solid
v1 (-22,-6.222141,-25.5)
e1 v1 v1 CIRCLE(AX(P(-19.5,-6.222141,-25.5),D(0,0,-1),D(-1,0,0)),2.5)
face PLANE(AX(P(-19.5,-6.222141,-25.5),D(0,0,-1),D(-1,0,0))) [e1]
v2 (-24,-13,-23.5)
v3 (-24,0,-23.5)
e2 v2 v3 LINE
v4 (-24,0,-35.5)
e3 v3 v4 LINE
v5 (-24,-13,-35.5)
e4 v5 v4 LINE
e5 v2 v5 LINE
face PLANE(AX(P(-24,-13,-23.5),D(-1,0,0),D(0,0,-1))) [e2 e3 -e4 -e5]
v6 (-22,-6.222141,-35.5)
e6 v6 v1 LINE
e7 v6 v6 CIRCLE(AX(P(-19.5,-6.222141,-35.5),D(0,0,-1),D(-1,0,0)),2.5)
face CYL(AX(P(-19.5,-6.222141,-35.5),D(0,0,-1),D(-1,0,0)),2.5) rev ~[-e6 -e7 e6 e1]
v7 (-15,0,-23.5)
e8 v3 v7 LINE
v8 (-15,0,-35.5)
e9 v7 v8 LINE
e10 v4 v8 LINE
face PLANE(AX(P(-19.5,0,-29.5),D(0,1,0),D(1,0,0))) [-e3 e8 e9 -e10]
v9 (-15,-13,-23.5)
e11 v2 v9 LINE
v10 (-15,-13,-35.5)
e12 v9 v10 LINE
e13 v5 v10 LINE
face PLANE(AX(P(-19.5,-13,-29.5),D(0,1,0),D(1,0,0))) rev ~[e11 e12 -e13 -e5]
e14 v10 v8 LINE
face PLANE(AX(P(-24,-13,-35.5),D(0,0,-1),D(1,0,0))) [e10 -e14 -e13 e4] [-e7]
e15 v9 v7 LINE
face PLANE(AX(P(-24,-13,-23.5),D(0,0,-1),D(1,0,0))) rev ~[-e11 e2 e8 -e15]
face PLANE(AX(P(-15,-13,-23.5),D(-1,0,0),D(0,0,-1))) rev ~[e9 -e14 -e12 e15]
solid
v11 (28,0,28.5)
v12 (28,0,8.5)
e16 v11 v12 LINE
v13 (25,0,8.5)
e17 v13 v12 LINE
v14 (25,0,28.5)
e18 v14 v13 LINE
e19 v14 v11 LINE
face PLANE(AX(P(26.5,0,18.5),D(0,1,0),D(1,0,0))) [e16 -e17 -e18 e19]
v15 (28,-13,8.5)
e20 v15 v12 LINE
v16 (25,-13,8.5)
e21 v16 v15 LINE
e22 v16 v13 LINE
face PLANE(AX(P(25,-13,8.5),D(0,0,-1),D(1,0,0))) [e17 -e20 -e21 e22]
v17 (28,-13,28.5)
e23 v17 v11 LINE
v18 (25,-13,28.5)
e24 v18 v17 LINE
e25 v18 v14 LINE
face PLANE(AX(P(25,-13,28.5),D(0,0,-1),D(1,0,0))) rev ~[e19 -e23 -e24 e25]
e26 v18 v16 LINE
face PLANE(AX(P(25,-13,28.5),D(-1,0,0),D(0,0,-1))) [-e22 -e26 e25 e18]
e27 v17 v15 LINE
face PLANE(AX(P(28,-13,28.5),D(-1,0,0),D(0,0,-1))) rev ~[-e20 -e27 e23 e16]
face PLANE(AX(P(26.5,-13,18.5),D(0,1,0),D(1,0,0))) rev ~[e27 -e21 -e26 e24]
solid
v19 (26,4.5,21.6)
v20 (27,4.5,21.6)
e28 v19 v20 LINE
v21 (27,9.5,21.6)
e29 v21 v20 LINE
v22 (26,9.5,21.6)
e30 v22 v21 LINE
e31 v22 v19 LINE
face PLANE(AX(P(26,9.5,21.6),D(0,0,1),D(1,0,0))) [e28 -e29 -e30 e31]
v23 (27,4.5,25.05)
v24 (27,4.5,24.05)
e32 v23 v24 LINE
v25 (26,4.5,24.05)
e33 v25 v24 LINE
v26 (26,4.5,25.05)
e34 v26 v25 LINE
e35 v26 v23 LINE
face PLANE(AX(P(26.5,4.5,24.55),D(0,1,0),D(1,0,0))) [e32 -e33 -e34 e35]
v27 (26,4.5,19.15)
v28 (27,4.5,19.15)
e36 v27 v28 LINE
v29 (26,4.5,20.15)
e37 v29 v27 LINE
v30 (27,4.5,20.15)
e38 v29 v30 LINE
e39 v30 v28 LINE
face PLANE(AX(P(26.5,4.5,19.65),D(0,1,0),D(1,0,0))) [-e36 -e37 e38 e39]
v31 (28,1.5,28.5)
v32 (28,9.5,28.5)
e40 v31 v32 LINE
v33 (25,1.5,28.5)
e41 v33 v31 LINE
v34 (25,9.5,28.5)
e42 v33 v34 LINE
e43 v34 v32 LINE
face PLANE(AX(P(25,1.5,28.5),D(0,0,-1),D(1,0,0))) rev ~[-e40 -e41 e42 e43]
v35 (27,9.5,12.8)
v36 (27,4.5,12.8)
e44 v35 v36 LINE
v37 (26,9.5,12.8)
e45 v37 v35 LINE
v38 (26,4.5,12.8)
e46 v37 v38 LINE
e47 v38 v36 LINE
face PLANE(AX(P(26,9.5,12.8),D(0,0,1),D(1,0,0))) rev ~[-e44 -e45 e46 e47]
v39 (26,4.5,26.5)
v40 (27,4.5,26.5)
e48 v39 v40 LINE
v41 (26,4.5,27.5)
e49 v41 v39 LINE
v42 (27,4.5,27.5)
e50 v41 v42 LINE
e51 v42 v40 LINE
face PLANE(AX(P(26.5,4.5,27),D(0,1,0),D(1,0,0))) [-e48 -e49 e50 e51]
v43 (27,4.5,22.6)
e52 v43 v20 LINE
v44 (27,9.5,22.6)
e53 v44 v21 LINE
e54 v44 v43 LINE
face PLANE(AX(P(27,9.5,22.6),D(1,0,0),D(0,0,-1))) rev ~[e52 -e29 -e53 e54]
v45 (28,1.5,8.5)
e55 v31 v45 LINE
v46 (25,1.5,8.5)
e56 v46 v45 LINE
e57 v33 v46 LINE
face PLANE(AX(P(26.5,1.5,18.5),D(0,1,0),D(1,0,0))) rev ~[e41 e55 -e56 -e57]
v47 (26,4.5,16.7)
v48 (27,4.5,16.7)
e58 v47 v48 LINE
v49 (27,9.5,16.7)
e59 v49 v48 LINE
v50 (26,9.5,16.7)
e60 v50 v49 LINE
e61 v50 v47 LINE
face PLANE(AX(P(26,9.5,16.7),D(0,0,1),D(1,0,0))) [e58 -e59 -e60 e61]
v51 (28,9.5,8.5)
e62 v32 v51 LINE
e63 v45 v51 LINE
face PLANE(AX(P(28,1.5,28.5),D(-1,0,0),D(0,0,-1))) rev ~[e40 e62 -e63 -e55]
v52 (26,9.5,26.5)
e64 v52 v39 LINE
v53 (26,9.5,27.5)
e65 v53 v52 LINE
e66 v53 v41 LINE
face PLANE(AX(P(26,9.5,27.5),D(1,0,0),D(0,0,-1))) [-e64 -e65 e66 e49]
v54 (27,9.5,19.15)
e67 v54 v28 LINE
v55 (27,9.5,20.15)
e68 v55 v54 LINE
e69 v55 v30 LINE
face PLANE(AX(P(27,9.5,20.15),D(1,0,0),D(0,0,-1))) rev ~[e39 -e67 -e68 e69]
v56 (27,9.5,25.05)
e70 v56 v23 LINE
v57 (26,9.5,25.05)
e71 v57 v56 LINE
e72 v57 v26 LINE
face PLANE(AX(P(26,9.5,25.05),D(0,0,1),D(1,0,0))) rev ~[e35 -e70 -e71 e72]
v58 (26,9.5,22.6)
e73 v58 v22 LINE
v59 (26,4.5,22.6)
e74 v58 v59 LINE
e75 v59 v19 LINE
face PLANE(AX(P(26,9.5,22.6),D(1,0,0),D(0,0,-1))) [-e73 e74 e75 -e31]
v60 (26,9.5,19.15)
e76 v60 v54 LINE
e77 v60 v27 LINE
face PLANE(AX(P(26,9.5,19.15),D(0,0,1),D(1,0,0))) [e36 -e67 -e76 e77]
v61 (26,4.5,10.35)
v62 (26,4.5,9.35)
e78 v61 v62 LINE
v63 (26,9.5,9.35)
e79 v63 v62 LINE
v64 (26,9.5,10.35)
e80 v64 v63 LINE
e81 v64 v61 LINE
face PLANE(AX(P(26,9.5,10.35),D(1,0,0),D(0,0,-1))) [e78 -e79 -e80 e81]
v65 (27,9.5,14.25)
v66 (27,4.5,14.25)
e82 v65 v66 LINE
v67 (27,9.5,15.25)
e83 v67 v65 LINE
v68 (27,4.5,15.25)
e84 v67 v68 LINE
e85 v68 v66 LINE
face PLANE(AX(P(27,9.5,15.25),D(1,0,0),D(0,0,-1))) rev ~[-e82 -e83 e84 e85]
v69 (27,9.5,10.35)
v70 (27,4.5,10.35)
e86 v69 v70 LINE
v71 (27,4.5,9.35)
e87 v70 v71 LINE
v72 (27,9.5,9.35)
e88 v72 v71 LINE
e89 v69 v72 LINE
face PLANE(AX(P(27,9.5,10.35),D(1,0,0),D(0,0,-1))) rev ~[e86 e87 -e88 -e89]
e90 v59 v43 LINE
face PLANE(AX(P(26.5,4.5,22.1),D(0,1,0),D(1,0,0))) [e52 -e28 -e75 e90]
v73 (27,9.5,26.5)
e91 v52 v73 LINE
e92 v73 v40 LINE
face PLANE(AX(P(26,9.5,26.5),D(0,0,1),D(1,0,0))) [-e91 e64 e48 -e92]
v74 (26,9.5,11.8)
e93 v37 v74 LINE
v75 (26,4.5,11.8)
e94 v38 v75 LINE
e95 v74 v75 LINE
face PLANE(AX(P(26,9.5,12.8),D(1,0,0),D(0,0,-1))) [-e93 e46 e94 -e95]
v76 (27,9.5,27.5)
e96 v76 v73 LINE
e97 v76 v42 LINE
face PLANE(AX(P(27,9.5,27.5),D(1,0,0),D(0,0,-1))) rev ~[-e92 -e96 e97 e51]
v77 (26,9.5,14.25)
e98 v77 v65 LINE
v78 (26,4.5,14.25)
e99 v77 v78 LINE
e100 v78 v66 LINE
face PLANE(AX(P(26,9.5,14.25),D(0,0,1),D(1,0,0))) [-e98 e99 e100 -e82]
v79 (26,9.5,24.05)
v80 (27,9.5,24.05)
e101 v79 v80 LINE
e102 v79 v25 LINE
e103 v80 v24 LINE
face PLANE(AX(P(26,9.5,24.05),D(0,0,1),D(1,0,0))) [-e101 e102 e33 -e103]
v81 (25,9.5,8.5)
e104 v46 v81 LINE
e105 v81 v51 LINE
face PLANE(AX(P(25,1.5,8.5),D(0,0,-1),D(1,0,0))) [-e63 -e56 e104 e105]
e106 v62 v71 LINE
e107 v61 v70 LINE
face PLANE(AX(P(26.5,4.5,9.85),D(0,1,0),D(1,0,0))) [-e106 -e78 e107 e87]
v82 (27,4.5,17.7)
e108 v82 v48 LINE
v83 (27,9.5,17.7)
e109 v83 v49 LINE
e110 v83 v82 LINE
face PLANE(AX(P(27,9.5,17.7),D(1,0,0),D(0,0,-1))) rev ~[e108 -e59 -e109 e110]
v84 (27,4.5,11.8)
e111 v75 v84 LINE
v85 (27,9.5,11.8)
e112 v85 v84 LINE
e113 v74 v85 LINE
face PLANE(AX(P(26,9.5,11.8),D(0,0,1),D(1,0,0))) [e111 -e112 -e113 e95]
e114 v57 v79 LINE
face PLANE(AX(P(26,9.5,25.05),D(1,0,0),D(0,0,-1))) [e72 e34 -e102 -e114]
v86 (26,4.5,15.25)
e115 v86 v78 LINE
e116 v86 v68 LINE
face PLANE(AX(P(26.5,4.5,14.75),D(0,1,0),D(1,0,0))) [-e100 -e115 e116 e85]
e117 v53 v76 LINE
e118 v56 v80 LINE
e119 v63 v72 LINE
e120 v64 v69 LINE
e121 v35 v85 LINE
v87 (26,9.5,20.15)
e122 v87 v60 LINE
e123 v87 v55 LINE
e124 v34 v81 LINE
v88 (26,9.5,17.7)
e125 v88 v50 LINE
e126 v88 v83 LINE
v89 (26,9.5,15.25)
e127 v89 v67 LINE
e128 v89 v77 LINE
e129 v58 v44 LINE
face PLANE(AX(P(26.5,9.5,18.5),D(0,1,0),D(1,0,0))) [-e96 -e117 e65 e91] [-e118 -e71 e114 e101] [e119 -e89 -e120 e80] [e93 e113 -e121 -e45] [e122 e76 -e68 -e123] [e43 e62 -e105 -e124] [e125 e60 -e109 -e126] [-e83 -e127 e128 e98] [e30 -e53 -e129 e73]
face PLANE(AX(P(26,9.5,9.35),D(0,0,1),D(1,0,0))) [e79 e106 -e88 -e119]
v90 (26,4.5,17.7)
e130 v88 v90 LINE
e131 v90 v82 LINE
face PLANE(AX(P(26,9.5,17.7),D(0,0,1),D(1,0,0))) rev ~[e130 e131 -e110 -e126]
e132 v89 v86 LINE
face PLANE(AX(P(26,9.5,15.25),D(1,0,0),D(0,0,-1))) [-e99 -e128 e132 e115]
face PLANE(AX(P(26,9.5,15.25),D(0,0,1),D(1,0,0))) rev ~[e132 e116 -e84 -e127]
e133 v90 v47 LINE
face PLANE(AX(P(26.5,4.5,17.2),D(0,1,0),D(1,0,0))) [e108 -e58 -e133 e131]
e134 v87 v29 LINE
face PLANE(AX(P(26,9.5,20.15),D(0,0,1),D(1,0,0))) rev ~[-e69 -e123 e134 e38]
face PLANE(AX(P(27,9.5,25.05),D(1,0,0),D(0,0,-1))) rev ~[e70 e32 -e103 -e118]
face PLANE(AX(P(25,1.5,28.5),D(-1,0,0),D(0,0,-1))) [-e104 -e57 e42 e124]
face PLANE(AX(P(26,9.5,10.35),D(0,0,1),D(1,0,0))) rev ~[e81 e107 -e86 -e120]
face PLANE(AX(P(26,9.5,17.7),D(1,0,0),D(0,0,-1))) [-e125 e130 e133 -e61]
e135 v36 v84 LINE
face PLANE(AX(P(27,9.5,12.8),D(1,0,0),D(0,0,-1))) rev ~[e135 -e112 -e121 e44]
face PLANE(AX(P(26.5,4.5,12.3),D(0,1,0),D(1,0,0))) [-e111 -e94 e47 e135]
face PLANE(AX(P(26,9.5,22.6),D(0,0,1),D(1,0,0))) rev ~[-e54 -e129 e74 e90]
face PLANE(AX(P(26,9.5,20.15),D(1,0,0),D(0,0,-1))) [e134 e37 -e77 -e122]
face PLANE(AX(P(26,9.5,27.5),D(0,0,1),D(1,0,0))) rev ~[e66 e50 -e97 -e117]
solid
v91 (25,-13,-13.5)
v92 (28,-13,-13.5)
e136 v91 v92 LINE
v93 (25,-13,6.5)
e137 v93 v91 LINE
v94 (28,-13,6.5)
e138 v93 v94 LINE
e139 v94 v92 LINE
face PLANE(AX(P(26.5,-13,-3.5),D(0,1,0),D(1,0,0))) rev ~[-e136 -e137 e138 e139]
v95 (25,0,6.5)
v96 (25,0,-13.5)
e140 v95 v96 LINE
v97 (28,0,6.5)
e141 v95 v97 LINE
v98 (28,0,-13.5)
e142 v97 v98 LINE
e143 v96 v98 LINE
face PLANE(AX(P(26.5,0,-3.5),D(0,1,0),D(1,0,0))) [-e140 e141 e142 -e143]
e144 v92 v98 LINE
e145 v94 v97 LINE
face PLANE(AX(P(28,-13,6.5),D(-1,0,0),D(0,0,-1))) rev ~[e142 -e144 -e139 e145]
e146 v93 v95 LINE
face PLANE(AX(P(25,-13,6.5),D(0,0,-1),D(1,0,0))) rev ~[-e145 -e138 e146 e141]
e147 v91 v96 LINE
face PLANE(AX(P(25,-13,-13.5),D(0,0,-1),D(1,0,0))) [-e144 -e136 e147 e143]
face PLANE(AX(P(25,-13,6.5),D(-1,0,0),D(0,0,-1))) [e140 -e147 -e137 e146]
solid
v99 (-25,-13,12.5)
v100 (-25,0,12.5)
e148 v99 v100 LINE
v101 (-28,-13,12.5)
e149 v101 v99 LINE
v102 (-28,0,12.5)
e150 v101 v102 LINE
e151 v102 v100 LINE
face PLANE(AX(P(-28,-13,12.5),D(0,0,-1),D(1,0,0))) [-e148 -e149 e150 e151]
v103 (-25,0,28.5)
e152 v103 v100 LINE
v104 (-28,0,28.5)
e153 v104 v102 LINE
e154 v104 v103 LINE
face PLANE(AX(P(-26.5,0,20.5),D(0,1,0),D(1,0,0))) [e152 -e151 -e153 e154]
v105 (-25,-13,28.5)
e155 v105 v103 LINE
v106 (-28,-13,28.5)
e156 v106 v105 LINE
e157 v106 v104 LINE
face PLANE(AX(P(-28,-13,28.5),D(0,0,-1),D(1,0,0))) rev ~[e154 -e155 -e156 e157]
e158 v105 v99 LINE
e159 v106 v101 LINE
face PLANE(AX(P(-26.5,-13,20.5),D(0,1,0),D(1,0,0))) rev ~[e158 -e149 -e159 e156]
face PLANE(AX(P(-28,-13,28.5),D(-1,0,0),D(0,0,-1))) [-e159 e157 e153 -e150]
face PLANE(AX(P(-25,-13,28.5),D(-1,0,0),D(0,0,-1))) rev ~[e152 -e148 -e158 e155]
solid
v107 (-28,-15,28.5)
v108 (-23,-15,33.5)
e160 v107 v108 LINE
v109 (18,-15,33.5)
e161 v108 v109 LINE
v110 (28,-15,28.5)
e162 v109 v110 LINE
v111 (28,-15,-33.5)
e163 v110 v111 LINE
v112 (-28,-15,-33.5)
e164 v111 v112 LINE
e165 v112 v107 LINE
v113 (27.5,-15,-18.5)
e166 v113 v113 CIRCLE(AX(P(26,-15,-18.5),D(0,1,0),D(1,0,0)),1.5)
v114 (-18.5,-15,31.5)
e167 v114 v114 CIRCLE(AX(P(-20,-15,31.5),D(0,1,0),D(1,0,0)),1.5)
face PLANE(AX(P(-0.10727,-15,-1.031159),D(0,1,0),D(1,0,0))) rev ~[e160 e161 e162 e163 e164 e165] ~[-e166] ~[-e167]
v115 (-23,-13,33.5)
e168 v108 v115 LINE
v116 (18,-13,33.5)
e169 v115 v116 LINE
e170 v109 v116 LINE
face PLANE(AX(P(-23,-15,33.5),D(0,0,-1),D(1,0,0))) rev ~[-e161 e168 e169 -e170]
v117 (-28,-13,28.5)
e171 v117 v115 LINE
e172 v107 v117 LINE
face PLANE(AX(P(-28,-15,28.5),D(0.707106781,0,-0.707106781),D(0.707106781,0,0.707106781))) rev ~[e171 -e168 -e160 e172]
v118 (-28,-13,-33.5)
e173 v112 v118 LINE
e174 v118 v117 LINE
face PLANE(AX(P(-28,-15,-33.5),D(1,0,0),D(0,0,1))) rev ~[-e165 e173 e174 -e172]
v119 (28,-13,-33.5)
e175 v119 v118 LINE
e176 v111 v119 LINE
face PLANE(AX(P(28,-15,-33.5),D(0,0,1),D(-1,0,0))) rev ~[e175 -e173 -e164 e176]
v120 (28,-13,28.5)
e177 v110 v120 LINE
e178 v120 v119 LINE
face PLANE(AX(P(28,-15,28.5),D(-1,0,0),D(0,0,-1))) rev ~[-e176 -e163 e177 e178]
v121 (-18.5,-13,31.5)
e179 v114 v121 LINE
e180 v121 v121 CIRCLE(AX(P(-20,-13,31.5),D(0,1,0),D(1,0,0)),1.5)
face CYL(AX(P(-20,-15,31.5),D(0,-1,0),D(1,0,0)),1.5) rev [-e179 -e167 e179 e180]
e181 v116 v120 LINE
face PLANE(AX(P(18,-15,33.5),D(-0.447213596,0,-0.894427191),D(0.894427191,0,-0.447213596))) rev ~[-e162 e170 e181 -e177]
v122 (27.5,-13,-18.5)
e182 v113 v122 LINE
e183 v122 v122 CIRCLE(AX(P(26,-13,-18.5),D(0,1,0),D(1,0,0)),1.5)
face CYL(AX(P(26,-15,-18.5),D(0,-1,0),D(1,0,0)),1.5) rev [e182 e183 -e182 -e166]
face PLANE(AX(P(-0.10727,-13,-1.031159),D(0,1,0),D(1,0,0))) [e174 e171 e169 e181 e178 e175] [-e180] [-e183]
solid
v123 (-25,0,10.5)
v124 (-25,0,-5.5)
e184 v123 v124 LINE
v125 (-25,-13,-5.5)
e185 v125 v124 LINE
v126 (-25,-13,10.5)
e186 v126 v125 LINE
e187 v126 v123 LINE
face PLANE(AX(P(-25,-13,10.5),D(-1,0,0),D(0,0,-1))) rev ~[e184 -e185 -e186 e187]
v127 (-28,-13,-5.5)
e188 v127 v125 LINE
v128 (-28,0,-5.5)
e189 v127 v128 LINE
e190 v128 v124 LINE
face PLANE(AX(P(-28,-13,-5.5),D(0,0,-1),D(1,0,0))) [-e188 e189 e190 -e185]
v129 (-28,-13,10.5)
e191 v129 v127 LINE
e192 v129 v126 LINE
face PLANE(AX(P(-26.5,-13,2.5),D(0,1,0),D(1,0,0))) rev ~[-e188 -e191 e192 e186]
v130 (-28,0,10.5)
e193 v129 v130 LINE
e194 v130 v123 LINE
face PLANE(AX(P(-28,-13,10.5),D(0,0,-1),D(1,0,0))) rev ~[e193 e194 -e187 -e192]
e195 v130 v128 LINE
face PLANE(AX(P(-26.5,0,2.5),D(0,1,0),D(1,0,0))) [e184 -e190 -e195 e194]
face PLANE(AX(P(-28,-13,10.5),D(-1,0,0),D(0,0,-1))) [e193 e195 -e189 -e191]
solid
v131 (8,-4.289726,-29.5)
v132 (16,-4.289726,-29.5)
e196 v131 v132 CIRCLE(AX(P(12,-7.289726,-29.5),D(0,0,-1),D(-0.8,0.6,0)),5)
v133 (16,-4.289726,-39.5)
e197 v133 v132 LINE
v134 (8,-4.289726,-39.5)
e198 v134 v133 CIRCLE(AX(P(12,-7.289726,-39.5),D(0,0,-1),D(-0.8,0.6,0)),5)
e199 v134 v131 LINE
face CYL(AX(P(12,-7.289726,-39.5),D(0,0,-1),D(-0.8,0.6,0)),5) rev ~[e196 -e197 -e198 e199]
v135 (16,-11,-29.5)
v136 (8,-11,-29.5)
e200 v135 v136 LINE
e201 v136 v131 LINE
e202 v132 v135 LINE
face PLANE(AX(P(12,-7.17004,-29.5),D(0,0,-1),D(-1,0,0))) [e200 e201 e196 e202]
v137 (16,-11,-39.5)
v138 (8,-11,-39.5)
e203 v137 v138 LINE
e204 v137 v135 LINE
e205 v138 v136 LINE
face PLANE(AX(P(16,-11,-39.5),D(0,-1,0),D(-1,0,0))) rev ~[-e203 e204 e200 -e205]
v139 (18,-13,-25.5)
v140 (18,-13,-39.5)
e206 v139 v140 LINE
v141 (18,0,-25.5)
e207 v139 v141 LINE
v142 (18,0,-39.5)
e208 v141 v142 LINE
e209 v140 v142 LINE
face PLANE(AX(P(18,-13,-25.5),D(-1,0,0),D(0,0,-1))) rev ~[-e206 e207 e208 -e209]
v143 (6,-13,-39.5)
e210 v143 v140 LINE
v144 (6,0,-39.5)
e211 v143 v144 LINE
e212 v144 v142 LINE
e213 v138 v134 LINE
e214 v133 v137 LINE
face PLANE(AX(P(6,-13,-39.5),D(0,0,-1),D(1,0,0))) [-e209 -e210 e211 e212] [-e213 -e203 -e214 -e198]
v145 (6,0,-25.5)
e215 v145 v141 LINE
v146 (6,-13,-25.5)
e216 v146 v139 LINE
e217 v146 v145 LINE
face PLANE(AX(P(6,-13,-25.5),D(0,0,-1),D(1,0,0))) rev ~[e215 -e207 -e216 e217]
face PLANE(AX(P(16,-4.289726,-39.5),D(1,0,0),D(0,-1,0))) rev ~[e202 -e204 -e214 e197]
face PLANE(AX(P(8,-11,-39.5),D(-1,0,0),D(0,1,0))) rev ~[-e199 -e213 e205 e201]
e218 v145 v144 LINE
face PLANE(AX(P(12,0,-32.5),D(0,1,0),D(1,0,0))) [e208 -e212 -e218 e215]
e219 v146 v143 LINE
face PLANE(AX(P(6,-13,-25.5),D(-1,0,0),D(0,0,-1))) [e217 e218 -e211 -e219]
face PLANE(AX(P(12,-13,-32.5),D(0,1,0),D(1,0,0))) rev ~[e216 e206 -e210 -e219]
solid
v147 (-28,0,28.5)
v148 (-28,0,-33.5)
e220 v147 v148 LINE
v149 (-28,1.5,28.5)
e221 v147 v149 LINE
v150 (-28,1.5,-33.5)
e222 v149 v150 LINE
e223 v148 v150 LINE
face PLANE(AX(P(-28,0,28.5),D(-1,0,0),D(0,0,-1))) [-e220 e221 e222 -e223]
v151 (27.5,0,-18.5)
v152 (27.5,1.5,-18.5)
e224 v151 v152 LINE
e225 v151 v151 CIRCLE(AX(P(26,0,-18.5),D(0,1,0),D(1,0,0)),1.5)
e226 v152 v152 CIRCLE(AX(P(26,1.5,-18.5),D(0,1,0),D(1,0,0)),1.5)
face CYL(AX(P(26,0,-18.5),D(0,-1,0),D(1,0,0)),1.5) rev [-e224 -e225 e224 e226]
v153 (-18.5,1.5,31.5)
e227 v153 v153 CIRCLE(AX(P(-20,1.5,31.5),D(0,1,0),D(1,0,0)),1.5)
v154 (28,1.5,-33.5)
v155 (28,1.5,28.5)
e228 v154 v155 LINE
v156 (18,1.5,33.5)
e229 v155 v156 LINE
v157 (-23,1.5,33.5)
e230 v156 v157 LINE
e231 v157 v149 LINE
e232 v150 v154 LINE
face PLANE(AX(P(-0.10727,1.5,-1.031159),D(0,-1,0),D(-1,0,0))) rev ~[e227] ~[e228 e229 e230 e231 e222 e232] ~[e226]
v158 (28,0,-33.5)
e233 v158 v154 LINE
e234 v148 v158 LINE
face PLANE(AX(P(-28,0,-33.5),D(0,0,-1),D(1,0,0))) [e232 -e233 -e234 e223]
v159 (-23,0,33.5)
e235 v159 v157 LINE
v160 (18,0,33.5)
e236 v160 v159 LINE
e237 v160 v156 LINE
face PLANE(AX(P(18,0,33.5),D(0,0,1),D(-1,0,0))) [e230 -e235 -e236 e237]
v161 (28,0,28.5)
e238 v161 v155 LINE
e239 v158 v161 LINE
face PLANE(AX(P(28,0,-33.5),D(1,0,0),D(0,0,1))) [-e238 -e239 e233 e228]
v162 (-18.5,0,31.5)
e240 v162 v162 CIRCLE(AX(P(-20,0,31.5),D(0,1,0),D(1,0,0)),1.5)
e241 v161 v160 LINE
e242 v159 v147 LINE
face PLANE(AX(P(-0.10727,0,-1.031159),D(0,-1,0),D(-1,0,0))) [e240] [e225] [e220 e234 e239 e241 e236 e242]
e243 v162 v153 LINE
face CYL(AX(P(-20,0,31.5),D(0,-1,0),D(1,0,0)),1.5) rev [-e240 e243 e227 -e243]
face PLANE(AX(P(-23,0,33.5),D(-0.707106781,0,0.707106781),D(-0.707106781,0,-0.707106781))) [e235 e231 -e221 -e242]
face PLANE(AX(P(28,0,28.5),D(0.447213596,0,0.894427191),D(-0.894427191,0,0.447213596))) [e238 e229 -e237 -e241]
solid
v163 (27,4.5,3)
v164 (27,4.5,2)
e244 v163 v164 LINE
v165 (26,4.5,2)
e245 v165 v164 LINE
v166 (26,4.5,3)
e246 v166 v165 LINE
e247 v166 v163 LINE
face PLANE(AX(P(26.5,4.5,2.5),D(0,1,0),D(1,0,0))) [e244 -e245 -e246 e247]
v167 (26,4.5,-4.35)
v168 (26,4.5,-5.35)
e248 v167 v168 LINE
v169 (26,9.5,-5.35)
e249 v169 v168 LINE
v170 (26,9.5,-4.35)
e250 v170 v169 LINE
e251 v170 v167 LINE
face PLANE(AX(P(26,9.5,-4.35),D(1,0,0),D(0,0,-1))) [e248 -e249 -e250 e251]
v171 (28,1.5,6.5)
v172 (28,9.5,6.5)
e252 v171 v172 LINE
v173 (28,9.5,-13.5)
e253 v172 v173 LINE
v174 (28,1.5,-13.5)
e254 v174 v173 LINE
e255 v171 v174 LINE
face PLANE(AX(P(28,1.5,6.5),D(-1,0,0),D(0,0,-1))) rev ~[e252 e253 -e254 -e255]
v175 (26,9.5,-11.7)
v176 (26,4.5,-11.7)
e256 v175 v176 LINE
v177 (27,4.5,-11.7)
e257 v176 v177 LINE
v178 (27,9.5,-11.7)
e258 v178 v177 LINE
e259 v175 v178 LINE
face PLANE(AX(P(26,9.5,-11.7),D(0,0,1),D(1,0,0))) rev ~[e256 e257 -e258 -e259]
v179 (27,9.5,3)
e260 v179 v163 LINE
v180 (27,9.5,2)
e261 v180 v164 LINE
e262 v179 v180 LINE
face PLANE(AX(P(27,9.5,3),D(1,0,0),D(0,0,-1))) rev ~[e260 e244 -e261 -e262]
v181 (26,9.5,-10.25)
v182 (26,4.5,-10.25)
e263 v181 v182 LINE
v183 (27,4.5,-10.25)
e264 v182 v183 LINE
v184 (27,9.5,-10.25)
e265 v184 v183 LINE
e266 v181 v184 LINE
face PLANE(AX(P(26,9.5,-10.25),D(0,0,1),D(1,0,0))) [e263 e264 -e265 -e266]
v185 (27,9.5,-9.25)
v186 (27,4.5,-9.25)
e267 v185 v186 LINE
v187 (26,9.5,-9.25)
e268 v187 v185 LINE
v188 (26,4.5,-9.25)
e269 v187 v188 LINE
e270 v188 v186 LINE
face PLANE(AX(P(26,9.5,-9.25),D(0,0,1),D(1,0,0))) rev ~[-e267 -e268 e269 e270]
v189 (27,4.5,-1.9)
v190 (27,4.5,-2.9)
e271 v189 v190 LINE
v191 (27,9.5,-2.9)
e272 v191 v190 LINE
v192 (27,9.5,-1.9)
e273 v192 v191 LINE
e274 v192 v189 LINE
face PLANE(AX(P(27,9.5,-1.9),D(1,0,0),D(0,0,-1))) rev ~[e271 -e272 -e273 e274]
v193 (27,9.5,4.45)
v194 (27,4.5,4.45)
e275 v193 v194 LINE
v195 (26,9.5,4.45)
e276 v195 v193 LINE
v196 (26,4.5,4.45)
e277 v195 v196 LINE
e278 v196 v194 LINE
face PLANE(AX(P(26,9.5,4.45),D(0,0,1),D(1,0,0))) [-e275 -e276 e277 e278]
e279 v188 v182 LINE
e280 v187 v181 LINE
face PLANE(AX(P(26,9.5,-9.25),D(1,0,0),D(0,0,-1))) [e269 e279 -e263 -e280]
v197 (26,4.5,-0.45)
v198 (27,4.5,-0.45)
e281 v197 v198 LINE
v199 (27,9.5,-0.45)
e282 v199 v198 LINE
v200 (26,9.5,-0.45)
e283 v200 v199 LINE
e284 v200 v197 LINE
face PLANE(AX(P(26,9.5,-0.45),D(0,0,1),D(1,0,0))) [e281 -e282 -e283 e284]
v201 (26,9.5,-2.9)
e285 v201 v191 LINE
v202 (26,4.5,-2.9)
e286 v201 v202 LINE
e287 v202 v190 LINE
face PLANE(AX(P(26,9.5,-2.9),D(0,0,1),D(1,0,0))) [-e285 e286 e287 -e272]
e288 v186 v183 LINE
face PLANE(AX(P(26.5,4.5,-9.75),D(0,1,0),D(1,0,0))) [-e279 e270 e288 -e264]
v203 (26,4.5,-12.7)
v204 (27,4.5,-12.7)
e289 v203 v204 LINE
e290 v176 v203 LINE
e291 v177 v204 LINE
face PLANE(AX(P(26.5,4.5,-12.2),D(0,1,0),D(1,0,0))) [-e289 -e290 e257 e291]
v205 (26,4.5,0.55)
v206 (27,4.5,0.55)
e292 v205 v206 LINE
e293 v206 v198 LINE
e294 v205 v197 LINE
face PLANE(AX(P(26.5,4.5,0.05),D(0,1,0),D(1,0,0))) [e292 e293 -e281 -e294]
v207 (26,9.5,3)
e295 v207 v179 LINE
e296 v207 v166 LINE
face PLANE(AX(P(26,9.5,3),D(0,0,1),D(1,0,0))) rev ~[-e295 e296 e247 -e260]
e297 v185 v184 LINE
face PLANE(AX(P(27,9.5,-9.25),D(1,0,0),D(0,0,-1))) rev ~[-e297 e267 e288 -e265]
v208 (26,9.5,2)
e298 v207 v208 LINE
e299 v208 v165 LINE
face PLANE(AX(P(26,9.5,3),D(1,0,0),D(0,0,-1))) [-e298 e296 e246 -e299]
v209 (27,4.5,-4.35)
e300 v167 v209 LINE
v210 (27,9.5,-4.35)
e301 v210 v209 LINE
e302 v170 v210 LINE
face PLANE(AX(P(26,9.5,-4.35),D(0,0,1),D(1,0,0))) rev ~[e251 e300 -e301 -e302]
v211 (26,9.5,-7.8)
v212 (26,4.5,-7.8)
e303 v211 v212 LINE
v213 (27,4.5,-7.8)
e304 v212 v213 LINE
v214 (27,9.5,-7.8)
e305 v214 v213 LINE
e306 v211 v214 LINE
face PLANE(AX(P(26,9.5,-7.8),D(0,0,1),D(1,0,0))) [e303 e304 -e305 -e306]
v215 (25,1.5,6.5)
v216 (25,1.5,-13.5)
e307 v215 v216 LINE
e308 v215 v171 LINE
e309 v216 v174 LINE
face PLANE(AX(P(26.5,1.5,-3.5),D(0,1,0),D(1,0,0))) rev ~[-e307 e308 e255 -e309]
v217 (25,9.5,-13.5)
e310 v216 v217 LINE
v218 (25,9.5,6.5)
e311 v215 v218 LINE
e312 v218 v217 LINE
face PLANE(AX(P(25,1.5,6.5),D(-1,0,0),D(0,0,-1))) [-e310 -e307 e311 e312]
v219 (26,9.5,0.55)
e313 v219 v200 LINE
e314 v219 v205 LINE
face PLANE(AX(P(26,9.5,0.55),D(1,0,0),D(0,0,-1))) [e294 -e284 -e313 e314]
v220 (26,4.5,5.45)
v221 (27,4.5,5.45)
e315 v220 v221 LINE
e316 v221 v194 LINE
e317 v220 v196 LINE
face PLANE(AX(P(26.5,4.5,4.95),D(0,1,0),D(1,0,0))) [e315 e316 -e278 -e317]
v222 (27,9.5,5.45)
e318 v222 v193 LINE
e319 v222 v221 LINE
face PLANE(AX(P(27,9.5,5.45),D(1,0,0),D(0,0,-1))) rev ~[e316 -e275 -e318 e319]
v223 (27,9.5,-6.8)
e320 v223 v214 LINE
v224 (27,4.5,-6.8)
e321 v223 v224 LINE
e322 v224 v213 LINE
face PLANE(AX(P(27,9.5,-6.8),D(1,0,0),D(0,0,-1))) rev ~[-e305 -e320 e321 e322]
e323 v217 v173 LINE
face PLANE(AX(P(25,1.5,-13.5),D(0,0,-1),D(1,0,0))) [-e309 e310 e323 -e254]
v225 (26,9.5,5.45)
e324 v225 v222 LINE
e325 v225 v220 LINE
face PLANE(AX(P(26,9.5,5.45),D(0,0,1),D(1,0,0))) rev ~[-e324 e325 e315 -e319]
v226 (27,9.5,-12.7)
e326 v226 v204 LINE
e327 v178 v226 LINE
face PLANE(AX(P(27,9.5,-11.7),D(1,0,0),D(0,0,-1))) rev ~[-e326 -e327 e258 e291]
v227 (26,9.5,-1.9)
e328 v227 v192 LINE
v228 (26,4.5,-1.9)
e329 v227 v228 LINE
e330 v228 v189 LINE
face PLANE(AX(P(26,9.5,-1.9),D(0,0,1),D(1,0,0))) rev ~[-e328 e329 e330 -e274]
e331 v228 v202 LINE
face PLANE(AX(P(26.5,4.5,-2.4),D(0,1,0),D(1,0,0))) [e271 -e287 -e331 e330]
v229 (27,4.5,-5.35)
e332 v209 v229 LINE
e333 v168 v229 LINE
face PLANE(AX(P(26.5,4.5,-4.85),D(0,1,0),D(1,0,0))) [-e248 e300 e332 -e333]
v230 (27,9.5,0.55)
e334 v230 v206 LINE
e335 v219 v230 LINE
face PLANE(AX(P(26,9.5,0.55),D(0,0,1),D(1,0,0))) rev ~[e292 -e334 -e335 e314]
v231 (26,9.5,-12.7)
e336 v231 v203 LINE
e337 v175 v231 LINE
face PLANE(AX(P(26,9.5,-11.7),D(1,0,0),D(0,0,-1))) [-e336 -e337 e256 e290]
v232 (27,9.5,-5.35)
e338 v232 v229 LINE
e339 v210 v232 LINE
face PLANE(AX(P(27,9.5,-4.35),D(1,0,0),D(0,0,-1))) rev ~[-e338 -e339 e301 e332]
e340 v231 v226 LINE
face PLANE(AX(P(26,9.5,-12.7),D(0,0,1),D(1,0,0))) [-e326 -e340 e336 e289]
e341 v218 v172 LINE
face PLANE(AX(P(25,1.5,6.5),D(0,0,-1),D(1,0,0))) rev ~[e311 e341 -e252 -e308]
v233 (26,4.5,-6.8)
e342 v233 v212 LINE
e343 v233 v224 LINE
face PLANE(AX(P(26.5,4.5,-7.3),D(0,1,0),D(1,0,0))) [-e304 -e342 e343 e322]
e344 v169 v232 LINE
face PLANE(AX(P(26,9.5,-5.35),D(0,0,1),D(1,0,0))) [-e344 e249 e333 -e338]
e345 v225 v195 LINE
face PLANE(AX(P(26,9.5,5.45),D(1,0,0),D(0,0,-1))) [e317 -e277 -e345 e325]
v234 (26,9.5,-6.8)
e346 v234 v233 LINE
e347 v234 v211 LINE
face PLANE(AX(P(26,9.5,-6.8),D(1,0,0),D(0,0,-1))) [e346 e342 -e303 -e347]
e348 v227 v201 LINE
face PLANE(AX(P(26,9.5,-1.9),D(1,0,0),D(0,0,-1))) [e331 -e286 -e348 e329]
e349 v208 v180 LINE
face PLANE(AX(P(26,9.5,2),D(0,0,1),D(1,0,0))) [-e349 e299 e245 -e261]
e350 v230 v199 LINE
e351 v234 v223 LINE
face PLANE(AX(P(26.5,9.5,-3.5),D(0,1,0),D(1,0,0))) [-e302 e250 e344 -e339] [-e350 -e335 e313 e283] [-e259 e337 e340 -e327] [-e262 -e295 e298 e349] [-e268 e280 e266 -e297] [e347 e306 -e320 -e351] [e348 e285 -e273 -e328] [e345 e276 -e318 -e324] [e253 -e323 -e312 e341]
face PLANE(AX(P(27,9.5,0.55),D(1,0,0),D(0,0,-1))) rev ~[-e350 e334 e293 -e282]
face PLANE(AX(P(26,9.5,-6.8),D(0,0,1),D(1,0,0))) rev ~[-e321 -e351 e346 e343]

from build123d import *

# Parameters (mm, degrees)
SKETCH_1_R          = 1.5
EXTRUDE_1_DEPTH     = 1.5
SKETCH_2_R          = 1.5
EXTRUDE_2_DEPTH     = 2
SKETCH_3_W          = 3
SKETCH_3_H          = 20
EXTRUDE_4_DEPTH     = 13
EXTRUDE_4_2_DEPTH   = 13
SKETCH_4_W          = 3
SKETCH_4_H          = 20
EXTRUDE_6_DEPTH     = 8
EXTRUDE_6_2_DEPTH   = 8
SKETCH_5_W          = 1
SKETCH_5_H          = 1
CUT_EXTRUDE_1_DEPTH = 5
SKETCH_6_W          = 3
SKETCH_6_H          = 16
EXTRUDE_7_DEPTH     = 13
EXTRUDE_7_2_DEPTH   = 13
SKETCH_7_W          = 12
SKETCH_7_H          = 14
EXTRUDE_8_DEPTH     = 13
CUT_EXTRUDE_2_DEPTH = 10
SKETCH_9_W          = 9
SKETCH_9_H          = 12
EXTRUDE_9_DEPTH     = 13
SKETCH_10_R         = 2.5
CUT_EXTRUDE_3_DEPTH = 10


with BuildPart() as part:
    # Эскиз1 → Бобышка-Вытянуть1 (new body)
    with BuildSketch(Plane(origin=(0, 0, 0), x_dir=(1, 0, 0), z_dir=(0, 1, 0))):
        Polygon((-28, 33.5), (28, 33.5), (28, -28.5), (18, -33.5), (-23, -33.5), (-28, -28.5), align=None)
        with Locations((-20, -31.5)):
            Circle(SKETCH_1_R, mode=Mode.SUBTRACT)
        with Locations((26, 18.5)):
            Circle(SKETCH_1_R, mode=Mode.SUBTRACT)
    extrude(amount=EXTRUDE_1_DEPTH)


with BuildPart() as body_2:
    # Эскиз2 → Бобышка-Вытянуть2 (new body)
    with BuildSketch(Plane(origin=(0, -15, 0), x_dir=(1, 0, 0), z_dir=(0, 1, 0))):
        Polygon((28, 33.5), (-28, 33.5), (-28, -28.5), (-23, -33.5), (18, -33.5), (28, -28.5), align=None)
        with Locations((26, 18.5)):
            Circle(SKETCH_2_R, mode=Mode.SUBTRACT)
        with Locations((-20, -31.5)):
            Circle(SKETCH_2_R, mode=Mode.SUBTRACT)
    extrude(amount=EXTRUDE_2_DEPTH)


with BuildPart() as body_3:
    # Эскиз3 → Бобышка-Вытянуть4 (new body)
    with BuildSketch(Plane(origin=(0, -13, 0), x_dir=(1, 0, 0), z_dir=(0, 1, 0))):
        with Locations((26.5, 3.5)):
            Rectangle(SKETCH_3_W, SKETCH_3_H)
    extrude(amount=EXTRUDE_4_DEPTH)


with BuildPart() as body_4:
    # Эскиз3 → Extrude 4 2 (new body)
    with BuildSketch(Plane(origin=(0, -13, 0), x_dir=(1, 0, 0), z_dir=(0, 1, 0))):
        with Locations((26.5, -18.5)):
            Rectangle(SKETCH_3_W, SKETCH_3_H)
    extrude(amount=EXTRUDE_4_2_DEPTH)


with BuildPart() as body_5:
    # Эскиз4 → Бобышка-Вытянуть6 (new body)
    with BuildSketch(Plane(origin=(0, 1.5, 0), x_dir=(1, 0, 0), z_dir=(0, 1, 0))):
        with Locations((26.5, -18.5)):
            Rectangle(SKETCH_4_W, SKETCH_4_H)
    extrude(amount=EXTRUDE_6_DEPTH)


with BuildPart() as body_6:
    # Эскиз4 → Extrude 6 2 (new body)
    with BuildSketch(Plane(origin=(0, 1.5, 0), x_dir=(1, 0, 0), z_dir=(0, 1, 0))):
        with Locations((26.5, 3.5)):
            Rectangle(SKETCH_4_W, SKETCH_4_H)
    extrude(amount=EXTRUDE_6_2_DEPTH)


with BuildPart() as cut_extrude_1_tool:
    # Эскиз5 → Вырез-Вытянуть1 (new body)
    with BuildSketch(Plane(origin=(0, 9.5, 0), x_dir=(1, 0, 0), z_dir=(0, 1, 0))):
        with Locations((26.5, -27)):
            Rectangle(SKETCH_5_W, SKETCH_5_H)
        with Locations((26.5, -24.55)):
            Rectangle(SKETCH_5_W, SKETCH_5_H)
        with Locations((26.5, -22.1)):
            Rectangle(SKETCH_5_W, SKETCH_5_H)
        with Locations((26.5, -19.65)):
            Rectangle(SKETCH_5_W, SKETCH_5_H)
        with Locations((26.5, -17.2)):
            Rectangle(SKETCH_5_W, SKETCH_5_H)
        with Locations((26.5, -14.75)):
            Rectangle(SKETCH_5_W, SKETCH_5_H)
        with Locations((26.5, -12.3)):
            Rectangle(SKETCH_5_W, SKETCH_5_H)
        with Locations((26.5, -9.85)):
            Rectangle(SKETCH_5_W, SKETCH_5_H)
        with Locations((26.5, -4.95)):
            Rectangle(SKETCH_5_W, SKETCH_5_H)
        with Locations((26.5, -2.5)):
            Rectangle(SKETCH_5_W, SKETCH_5_H)
        with Locations((26.5, -0.05)):
            Rectangle(SKETCH_5_W, SKETCH_5_H)
        with Locations((26.5, 2.4)):
            Rectangle(SKETCH_5_W, SKETCH_5_H)
        with Locations((26.5, 4.85)):
            Rectangle(SKETCH_5_W, SKETCH_5_H)
        with Locations((26.5, 7.3)):
            Rectangle(SKETCH_5_W, SKETCH_5_H)
        with Locations((26.5, 9.75)):
            Rectangle(SKETCH_5_W, SKETCH_5_H)
        with Locations((26.5, 12.2)):
            Rectangle(SKETCH_5_W, SKETCH_5_H)
    extrude(amount=-CUT_EXTRUDE_1_DEPTH)


with BuildPart() as body_5_1:
    add(body_5.part)

    # Вырез-Вытянуть1: cut by cut_extrude_1_tool
    add(cut_extrude_1_tool.part, mode=Mode.SUBTRACT)


with BuildPart() as body_6_1:
    add(body_6.part)

    # Вырез-Вытянуть1: cut by cut_extrude_1_tool
    add(cut_extrude_1_tool.part, mode=Mode.SUBTRACT)


with BuildPart() as body_7:
    # Эскиз6 → Бобышка-Вытянуть7 (new body)
    with BuildSketch(Plane(origin=(0, -13, 0), x_dir=(1, 0, 0), z_dir=(0, 1, 0))):
        with Locations((-26.5, -2.5)):
            Rectangle(SKETCH_6_W, SKETCH_6_H)
    extrude(amount=EXTRUDE_7_DEPTH)


with BuildPart() as body_8:
    # Эскиз6 → Extrude 7 2 (new body)
    with BuildSketch(Plane(origin=(0, -13, 0), x_dir=(1, 0, 0), z_dir=(0, 1, 0))):
        with Locations((-26.5, -20.5)):
            Rectangle(SKETCH_6_W, SKETCH_6_H)
    extrude(amount=EXTRUDE_7_2_DEPTH)


with BuildPart() as body_9:
    # Эскиз7 → Бобышка-Вытянуть8 (new body)
    with BuildSketch(Plane(origin=(0, -13, 0), x_dir=(1, 0, 0), z_dir=(0, 1, 0))):
        with Locations((12, 32.5)):
            Rectangle(SKETCH_7_W, SKETCH_7_H)
    extrude(amount=EXTRUDE_8_DEPTH)

    # Эскиз8 → Вырез-Вытянуть2 (cut)
    with BuildSketch(Plane(origin=(0, 0, -39.5), x_dir=(-1, 0, 0), z_dir=(0, 0, -1))):
        with BuildLine():
            Line((-16, -11), (-8, -11))
            Line((-8, -11), (-8, -4.289726372))
            ThreePointArc((-8, -4.289726372), (-12, -2.289726372), (-16, -4.289726372))
            Line((-16, -4.289726372), (-16, -11))
        make_face()
    extrude(amount=-CUT_EXTRUDE_2_DEPTH, mode=Mode.SUBTRACT)


with BuildPart() as body_10:
    # Эскиз9 → Бобышка-Вытянуть9 (new body)
    with BuildSketch(Plane(origin=(0, -13, 0), x_dir=(1, 0, 0), z_dir=(0, 1, 0))):
        with Locations((-19.5, 29.5)):
            Rectangle(SKETCH_9_W, SKETCH_9_H)
    extrude(amount=EXTRUDE_9_DEPTH)

    # Эскиз10 → Вырез-Вытянуть3 (cut)
    with BuildSketch(Plane(origin=(0, 0, -35.5), x_dir=(-1, 0, 0), z_dir=(0, 0, -1))):
        with Locations((19.5, -6.222141273)):
            Circle(SKETCH_10_R)
    extrude(amount=-CUT_EXTRUDE_3_DEPTH, mode=Mode.SUBTRACT)


solid = Compound([part.part, body_2.part, body_3.part, body_4.part, body_5_1.part, body_6_1.part, body_7.part, body_8.part, body_9.part, body_10.part])
